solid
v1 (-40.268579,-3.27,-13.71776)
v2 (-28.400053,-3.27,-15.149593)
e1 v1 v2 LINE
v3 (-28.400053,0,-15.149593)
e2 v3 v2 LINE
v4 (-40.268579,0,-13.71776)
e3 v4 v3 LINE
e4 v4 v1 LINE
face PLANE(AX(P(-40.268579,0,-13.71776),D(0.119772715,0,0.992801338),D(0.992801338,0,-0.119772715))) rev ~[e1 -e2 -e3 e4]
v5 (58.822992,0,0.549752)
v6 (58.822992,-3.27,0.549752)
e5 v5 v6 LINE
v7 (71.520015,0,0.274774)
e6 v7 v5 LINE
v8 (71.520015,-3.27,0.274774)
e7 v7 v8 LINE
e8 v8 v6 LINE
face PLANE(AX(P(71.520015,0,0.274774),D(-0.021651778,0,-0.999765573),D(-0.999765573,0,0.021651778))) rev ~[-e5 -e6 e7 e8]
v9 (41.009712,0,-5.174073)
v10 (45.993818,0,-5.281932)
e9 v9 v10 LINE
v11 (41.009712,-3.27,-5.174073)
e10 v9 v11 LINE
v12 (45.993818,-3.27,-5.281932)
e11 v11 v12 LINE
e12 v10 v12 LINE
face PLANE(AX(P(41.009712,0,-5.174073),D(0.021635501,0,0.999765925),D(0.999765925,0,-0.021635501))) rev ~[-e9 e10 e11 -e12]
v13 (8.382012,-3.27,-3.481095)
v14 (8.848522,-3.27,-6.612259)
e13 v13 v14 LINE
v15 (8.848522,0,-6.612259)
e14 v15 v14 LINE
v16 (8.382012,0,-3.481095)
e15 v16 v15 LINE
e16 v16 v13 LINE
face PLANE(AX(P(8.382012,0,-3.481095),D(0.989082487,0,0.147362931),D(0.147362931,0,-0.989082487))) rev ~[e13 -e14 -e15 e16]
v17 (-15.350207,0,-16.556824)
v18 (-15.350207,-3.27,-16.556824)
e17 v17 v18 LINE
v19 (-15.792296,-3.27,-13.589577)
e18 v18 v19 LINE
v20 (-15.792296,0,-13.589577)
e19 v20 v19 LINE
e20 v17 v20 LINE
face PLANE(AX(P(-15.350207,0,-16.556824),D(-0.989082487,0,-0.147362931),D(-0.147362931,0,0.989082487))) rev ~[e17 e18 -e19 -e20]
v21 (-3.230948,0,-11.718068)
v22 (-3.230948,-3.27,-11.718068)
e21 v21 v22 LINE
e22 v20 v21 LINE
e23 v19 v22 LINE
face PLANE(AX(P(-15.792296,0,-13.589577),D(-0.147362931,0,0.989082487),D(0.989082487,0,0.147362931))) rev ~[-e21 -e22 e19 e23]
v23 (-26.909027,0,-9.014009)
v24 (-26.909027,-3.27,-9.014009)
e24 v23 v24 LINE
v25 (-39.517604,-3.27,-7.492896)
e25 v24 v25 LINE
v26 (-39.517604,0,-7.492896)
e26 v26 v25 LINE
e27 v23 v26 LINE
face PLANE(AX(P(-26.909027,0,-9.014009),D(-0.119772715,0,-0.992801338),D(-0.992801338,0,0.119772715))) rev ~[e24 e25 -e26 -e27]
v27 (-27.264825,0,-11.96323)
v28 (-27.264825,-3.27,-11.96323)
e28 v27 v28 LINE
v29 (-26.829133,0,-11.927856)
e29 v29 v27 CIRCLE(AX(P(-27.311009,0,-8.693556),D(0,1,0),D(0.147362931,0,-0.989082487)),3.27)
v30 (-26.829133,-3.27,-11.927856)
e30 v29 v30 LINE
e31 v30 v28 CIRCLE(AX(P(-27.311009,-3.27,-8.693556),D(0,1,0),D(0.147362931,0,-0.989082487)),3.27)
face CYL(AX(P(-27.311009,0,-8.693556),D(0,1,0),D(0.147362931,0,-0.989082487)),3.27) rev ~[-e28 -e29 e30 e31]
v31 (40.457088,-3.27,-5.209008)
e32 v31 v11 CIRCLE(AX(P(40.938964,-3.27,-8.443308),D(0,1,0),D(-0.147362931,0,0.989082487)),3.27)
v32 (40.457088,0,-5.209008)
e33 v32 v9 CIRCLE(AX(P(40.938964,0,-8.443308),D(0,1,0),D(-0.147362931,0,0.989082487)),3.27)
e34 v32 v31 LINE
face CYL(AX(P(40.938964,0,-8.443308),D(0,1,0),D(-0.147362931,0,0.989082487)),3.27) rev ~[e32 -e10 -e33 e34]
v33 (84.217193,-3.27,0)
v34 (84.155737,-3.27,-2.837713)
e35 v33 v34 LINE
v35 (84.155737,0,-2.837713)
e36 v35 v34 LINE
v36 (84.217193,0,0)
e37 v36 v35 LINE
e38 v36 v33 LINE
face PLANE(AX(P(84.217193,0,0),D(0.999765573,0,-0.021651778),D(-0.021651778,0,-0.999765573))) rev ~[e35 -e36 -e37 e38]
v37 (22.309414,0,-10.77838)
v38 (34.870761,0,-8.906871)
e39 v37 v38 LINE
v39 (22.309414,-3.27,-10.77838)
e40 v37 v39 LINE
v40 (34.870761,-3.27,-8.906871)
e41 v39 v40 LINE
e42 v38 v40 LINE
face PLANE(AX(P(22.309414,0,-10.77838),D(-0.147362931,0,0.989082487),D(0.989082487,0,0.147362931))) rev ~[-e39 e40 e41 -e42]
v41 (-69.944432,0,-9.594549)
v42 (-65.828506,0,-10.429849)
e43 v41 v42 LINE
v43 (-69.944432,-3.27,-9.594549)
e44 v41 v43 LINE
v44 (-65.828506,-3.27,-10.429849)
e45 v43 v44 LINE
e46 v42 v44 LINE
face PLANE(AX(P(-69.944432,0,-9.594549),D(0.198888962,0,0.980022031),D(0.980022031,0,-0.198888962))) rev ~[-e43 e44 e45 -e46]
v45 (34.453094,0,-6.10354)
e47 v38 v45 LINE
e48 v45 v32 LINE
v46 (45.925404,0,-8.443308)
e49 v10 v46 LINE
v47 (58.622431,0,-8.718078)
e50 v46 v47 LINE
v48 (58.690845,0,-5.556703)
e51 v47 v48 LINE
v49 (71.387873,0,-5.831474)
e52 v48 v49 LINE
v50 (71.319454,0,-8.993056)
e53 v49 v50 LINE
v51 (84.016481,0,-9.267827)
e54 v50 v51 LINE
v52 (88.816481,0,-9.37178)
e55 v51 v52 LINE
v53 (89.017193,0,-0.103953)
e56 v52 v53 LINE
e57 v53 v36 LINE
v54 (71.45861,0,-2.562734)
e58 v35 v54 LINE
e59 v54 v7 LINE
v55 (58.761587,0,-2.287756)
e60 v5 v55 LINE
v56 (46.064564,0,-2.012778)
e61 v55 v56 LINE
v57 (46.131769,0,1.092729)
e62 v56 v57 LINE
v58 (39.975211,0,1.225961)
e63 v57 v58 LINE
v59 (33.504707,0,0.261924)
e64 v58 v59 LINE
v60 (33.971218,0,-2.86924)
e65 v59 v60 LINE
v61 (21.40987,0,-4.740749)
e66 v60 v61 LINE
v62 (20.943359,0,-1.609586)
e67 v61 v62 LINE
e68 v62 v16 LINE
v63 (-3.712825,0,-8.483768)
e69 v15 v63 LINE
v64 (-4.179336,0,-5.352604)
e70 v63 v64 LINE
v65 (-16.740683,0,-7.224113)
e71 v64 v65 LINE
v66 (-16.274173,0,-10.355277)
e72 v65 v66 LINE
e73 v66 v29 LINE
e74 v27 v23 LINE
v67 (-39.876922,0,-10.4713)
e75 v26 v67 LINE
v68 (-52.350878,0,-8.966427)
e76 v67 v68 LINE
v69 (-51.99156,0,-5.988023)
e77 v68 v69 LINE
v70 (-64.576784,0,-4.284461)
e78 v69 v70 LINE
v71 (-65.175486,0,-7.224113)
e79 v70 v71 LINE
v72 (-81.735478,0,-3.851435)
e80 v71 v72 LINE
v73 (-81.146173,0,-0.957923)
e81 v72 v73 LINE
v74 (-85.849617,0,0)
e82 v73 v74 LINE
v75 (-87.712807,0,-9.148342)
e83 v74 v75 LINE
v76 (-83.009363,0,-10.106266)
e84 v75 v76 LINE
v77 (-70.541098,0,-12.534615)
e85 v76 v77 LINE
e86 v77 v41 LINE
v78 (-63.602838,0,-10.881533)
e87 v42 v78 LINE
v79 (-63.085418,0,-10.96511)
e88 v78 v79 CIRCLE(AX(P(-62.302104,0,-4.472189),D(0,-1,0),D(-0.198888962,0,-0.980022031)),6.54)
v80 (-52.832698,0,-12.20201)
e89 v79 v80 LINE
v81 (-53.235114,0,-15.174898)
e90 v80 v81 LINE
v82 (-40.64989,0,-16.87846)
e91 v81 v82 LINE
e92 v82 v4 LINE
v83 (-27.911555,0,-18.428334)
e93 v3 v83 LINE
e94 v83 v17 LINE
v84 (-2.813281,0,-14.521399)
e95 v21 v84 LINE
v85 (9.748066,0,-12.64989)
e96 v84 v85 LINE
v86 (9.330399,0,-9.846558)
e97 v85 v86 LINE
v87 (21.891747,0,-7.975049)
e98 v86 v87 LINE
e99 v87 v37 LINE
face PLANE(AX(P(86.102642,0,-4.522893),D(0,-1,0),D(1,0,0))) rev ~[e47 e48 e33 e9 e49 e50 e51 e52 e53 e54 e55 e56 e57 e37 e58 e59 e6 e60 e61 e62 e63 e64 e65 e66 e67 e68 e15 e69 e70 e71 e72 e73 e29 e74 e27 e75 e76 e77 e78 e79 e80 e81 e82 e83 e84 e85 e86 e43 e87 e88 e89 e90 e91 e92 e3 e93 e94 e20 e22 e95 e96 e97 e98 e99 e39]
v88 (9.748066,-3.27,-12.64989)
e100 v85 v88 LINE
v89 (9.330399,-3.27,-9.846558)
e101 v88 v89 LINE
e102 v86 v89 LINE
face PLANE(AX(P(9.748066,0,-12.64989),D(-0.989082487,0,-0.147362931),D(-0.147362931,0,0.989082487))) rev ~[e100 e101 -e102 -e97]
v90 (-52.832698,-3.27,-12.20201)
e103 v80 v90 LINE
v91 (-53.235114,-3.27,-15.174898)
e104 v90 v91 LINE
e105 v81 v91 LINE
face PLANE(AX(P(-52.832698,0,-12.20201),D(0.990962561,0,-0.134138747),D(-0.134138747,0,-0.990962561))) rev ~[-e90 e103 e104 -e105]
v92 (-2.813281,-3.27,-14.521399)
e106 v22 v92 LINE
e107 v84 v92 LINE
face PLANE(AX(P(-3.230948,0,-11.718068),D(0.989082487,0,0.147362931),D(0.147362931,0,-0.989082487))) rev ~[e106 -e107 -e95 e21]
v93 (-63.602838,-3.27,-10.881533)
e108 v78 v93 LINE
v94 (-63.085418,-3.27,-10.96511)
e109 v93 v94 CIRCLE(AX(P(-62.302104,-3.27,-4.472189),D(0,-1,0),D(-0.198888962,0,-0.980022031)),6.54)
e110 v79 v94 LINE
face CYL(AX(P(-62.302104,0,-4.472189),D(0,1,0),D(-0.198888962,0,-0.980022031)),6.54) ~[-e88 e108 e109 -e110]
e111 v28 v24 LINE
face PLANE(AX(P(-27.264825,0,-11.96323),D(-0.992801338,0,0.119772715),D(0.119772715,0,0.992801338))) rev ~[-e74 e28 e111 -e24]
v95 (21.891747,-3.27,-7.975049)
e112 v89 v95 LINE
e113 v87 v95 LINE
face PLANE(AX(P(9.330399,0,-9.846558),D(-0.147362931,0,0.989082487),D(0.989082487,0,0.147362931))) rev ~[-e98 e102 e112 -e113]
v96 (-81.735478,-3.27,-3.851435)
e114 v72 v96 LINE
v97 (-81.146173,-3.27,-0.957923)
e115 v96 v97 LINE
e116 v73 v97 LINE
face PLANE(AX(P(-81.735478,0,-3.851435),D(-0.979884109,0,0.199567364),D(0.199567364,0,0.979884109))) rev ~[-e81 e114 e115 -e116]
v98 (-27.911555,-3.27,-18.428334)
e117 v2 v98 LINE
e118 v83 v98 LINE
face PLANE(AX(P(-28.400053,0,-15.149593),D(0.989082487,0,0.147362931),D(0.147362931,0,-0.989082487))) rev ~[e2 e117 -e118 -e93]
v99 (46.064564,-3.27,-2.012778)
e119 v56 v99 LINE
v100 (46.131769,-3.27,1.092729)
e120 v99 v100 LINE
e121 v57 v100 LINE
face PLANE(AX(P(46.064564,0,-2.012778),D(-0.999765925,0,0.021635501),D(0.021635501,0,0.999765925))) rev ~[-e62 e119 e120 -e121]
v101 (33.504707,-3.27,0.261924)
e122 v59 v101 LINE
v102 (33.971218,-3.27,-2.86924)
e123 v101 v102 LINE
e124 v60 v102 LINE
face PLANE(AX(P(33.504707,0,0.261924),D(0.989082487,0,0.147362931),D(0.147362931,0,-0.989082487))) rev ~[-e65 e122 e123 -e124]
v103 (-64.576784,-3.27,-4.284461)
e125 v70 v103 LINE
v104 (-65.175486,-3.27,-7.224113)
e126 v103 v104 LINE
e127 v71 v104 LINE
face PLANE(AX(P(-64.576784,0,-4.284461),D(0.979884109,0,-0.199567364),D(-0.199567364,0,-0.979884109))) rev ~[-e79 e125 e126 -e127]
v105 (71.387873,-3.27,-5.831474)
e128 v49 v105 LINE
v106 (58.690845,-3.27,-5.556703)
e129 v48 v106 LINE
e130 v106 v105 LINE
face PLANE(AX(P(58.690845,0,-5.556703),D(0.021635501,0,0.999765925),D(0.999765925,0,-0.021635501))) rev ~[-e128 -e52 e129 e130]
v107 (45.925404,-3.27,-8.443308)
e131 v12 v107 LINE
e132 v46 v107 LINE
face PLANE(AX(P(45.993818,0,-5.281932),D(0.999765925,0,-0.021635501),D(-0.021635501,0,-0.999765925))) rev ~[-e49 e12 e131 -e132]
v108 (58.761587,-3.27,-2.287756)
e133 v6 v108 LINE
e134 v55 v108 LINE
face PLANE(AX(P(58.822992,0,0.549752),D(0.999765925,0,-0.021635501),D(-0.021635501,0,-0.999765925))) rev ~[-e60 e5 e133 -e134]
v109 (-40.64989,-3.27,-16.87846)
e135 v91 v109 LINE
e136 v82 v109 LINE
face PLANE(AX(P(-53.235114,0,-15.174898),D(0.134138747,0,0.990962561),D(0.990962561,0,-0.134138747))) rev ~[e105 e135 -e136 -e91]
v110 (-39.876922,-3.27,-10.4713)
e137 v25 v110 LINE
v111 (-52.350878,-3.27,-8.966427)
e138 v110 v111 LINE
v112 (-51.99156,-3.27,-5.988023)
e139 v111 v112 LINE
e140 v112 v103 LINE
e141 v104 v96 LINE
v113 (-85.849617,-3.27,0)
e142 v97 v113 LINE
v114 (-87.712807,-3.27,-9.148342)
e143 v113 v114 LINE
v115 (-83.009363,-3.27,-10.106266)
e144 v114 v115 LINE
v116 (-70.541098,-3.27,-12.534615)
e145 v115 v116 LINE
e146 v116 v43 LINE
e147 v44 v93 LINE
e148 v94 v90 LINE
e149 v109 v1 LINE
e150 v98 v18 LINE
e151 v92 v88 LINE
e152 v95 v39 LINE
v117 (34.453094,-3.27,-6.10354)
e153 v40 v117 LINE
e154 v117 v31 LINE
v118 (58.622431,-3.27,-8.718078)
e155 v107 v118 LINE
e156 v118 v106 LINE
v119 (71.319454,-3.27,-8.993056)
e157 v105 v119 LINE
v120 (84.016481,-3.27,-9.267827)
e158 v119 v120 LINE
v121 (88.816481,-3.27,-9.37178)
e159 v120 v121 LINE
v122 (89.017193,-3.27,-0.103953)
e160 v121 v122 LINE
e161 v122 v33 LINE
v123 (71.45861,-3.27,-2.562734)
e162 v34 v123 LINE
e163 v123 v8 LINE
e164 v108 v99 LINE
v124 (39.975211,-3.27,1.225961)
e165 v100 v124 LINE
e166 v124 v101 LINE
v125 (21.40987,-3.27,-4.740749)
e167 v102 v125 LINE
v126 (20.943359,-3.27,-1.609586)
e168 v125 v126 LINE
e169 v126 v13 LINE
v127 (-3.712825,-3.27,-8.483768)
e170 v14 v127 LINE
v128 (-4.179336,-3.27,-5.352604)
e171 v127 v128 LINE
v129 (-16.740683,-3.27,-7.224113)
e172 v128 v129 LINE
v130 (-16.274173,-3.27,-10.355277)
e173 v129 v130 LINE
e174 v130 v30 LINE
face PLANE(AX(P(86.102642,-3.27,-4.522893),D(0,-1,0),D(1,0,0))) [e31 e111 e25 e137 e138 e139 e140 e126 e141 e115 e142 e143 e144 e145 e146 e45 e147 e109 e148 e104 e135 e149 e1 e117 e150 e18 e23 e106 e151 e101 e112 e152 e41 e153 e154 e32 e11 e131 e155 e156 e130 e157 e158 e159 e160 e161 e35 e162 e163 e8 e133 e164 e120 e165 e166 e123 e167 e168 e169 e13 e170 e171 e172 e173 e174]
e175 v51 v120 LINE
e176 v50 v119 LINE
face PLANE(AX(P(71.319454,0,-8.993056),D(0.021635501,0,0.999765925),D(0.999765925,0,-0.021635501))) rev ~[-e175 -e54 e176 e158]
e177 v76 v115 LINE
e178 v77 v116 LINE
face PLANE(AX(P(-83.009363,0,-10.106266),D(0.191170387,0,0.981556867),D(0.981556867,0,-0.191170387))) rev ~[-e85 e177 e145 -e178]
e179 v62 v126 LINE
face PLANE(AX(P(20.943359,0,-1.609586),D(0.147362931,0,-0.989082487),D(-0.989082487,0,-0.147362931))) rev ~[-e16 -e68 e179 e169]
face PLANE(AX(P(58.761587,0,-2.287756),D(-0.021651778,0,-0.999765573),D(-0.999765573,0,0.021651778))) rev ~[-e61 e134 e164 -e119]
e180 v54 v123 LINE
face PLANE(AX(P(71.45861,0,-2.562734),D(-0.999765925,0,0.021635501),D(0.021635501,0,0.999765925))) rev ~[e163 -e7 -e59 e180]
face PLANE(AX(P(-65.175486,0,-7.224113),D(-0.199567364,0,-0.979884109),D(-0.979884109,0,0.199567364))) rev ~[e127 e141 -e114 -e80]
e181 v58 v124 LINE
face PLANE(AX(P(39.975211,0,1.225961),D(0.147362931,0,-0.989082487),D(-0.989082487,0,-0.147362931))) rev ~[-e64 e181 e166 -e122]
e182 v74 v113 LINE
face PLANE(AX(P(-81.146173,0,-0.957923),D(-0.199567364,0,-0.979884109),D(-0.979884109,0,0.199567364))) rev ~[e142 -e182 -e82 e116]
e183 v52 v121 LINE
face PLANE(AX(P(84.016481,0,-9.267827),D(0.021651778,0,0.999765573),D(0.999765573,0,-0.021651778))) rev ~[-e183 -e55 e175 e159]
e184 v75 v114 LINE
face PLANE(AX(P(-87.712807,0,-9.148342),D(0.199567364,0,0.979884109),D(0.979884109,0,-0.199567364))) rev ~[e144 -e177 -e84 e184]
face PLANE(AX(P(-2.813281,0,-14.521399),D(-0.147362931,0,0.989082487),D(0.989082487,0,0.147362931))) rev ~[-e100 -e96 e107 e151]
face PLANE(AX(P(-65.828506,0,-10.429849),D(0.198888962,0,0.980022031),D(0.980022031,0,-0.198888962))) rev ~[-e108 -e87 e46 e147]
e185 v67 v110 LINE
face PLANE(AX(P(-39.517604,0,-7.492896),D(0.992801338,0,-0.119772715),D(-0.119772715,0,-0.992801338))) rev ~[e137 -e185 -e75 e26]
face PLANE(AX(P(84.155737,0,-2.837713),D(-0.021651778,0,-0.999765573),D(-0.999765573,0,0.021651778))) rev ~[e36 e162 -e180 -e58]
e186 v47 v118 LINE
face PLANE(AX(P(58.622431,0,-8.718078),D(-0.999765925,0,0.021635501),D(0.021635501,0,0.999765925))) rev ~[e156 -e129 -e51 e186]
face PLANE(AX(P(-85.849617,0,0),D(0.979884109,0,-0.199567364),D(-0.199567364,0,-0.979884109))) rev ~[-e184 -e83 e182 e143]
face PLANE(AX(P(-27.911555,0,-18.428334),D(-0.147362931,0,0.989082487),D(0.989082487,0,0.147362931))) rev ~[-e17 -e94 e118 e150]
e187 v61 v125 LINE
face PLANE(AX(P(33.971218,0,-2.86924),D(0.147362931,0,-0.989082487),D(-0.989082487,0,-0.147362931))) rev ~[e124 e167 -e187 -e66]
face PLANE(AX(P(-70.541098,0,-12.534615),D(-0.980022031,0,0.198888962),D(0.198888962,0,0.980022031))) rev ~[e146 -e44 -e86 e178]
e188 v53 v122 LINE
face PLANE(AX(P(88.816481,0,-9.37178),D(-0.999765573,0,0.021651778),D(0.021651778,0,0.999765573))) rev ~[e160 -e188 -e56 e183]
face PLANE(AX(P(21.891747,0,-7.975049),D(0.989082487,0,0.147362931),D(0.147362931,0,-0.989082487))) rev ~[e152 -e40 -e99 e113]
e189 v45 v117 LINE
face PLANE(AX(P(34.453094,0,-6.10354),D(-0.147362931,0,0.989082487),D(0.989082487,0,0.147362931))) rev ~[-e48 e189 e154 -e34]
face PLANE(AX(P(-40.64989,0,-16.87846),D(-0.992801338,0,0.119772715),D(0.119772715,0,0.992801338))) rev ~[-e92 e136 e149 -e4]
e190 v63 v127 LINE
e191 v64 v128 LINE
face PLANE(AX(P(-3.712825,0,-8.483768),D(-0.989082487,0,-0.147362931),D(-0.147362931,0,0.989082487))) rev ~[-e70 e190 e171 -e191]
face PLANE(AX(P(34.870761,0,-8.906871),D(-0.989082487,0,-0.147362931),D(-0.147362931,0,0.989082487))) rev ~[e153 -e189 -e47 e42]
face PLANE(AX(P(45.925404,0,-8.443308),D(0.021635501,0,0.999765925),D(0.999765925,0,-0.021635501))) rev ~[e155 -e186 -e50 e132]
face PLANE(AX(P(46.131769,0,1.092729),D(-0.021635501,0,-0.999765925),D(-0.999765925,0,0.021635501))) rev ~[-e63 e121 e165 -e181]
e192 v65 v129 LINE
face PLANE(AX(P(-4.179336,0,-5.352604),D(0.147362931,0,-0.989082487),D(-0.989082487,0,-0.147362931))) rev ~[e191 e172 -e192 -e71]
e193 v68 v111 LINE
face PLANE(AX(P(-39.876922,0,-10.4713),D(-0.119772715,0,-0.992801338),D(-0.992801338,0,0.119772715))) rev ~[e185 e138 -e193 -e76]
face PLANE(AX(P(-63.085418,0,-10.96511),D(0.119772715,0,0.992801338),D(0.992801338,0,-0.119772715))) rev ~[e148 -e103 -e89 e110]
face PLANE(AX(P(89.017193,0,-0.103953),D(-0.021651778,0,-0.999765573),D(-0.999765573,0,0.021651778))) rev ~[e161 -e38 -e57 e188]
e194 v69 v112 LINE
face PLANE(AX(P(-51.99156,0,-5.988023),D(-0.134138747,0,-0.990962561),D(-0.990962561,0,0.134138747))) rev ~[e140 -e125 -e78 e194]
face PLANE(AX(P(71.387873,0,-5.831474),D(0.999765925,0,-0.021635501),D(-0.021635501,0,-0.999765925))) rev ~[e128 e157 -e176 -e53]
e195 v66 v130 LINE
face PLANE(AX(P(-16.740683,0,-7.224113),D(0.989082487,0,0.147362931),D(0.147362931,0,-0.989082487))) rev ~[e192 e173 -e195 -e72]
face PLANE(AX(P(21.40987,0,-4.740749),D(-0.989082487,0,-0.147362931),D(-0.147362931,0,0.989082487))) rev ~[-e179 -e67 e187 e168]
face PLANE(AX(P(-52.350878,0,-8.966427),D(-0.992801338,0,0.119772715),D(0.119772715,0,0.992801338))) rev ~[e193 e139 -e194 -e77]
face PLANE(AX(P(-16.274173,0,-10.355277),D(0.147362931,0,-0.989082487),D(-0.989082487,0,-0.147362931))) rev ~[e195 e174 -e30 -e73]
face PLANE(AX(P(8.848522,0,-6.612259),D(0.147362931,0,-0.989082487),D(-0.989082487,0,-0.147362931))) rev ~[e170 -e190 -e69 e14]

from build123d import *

# Parameters (mm, degrees)
F1_DEPTH = 3.27


with BuildPart() as f1:
    # F0 (on Front) → F1 (new body)
    with BuildSketch(Plane.XZ):
        Polygon((88.0849202076, -6.1928071498), (88.0849202076, -2.9228071498), (84.155737444, -2.8377134103), (84.0849513189, -6.1062455567), align=None)
        Polygon((84.155737444, -2.8377134103), (88.0849202076, -2.9228071498), (88.0849202076, -6.1928071498), (84.0849513189, -6.1062455567), (84.0164814126, -9.2678268597), (88.8164814126, -9.3717797613), (89.0171933904, -0.1039529016), (84.2171933904, 0), align=None)
        Polygon((84.0849513189, -6.1062455567), (84.155737444, -2.8377134103), (71.4586099838, -2.5627335684), (71.387872598, -5.8314735793), align=None)
        Polygon((71.387872598, -5.8314735793), (71.4586099838, -2.5627335684), (58.7615872094, -2.2877559936), (58.6908453502, -5.5567027157), align=None)
        Polygon((58.7615872094, -2.2877559936), (71.4586099838, -2.5627335684), (71.5200152581, 0.27477413), (58.8229924837, 0.5497517048), align=None)
        Polygon((84.0164814126, -9.2678268597), (84.0849513189, -6.1062455567), (71.387872598, -5.8314735793), (71.3194541632, -8.9930559962), align=None)
        Polygon((58.6908453502, -5.5567027157), (58.7615872094, -2.2877559936), (46.0645644334, -2.0127784187), (45.9938181008, -5.2819318522), align=None)
        with BuildLine():
            Line((45.9938181008, -5.2819318522), (46.0645644334, -2.0127784187))
            Line((46.0645644334, -2.0127784187), (41.0805670131, -1.9048407118))
            ThreePointArc((41.0805670131, -1.9048407118), (40.5264072315, -1.9163330219), (39.9752108165, -1.9747080916))
            Line((39.9752108165, -1.9747080916), (33.9712176037, -2.8692401974))
            Line((33.9712176037, -2.8692401974), (34.4530943895, -6.1035399305))
            Line((34.4530943895, -6.1035399305), (40.4570876022, -5.2090078247))
            ThreePointArc((40.4570876022, -5.2090078247), (40.7326592445, -5.1798219691), (41.0097124764, -5.1740729826))
            Line((41.0097124764, -5.1740729826), (45.9938181008, -5.2819318522))
        make_face()
        with BuildLine():
            Line((41.0805670131, -1.9048407118), (46.0645644334, -2.0127784187))
            Line((46.0645644334, -2.0127784187), (46.1317693836, 1.0927294697))
            Line((46.1317693836, 1.0927294697), (39.9752108165, 1.2259608853))
            Line((39.9752108165, 1.2259608853), (33.5047069945, 0.2619235848))
            Line((33.5047069945, 0.2619235848), (33.9712176037, -2.8692401974))
            Line((33.9712176037, -2.8692401974), (39.9752108165, -1.9747080916))
            ThreePointArc((39.9752108165, -1.9747080916), (40.5264072315, -1.9163330219), (41.0805670131, -1.9048407118))
        make_face()
        Polygon((58.6224313888, -8.7180784214), (58.6908453502, -5.5567027157), (45.9938181008, -5.2819318522), (45.9254041394, -8.4433075578), align=None)
        Polygon((34.4530943895, -6.1035399305), (33.9712176037, -2.8692401974), (21.4098700166, -4.7407494263), (21.8917468023, -7.9750491594), align=None)
        Polygon((21.8917468023, -7.9750491594), (21.4098700166, -4.7407494263), (8.8485224294, -6.6122586553), (9.3303992151, -9.8465583884), align=None)
        Polygon((8.8485224294, -6.6122586553), (21.4098700166, -4.7407494263), (20.9433594073, -1.6095856442), (8.3820118202, -3.4810948731), align=None)
        Polygon((34.8707613687, -8.9068710714), (34.4530943895, -6.1035399305), (21.8917468023, -7.9750491594), (22.3094137815, -10.7783803003), align=None)
        Polygon((9.3303992151, -9.8465583884), (8.8485224294, -6.6122586553), (-3.7128251578, -8.4837678842), (-3.2309483721, -11.7180676173), align=None)
        Polygon((-3.2309483721, -11.7180676173), (-3.7128251578, -8.4837678842), (-16.274172745, -10.3552771132), (-15.7922959593, -13.5895768463), align=None)
        Polygon((-16.274172745, -10.3552771132), (-3.7128251578, -8.4837678842), (-4.179335767, -5.3526041021), (-16.7406833542, -7.224113331), align=None)
        Polygon((9.7480661944, -12.6498895293), (9.3303992151, -9.8465583884), (-3.2309483721, -11.7180676173), (-2.8132813928, -14.5213987582), align=None)
        with BuildLine():
            Line((-15.7922959593, -13.5895768463), (-16.274172745, -10.3552771132))
            Line((-16.274172745, -10.3552771132), (-26.8291325696, -11.9278555795))
            ThreePointArc((-26.8291325696, -11.9278555795), (-27.0463868948, -11.9528310654), (-27.2648247248, -11.9632296803))
            Line((-27.2648247248, -11.9632296803), (-27.3333623041, -12.5313407106))
            Line((-27.3333623041, -12.5313407106), (-27.6582478154, -15.224331103))
            ThreePointArc((-27.6582478154, -15.224331103), (-27.0011881523, -15.2262131022), (-26.3472557839, -15.1621553125))
            Line((-26.3472557839, -15.1621553125), (-15.7922959593, -13.5895768463))
        make_face()
        with BuildLine():
            Line((-15.350207165, -16.5568243078), (-15.7922959593, -13.5895768463))
            Line((-15.7922959593, -13.5895768463), (-26.3472557839, -15.1621553125))
            ThreePointArc((-26.3472557839, -15.1621553125), (-27.0011881523, -15.2262131022), (-27.6582478154, -15.224331103))
            ThreePointArc((-27.6582478154, -15.224331103), (-27.8766021467, -15.2090531255), (-28.0943229104, -15.186476597))
            Line((-28.0943229104, -15.186476597), (-28.4000527535, -15.1495929911))
            Line((-28.4000527535, -15.1495929911), (-27.9115547522, -18.4283335368))
            Line((-27.9115547522, -18.4283335368), (-15.350207165, -16.5568243078))
        make_face()
        with BuildLine():
            Line((-27.3333623041, -12.5313407106), (-27.2648247248, -11.9632296803))
            ThreePointArc((-27.2648247248, -11.9632296803), (-27.4841349376, -11.9589696843), (-27.7026661329, -11.9400162217))
            Line((-27.7026661329, -11.9400162217), (-39.8769224488, -10.4712996977))
            Line((-39.8769224488, -10.4712996977), (-40.2685792263, -13.717760073))
            Line((-40.2685792263, -13.717760073), (-28.4000527535, -15.1495929911))
            Line((-28.4000527535, -15.1495929911), (-28.0943229104, -15.186476597))
            ThreePointArc((-28.0943229104, -15.186476597), (-27.8766021467, -15.2090531255), (-27.6582478154, -15.224331103))
            Line((-27.6582478154, -15.224331103), (-27.3333623041, -12.5313407106))
        make_face()
        with BuildLine():
            ThreePointArc((-27.7026661329, -11.9400162217), (-27.4841349376, -11.9589696843), (-27.2648247248, -11.9632296803))
            Line((-27.2648247248, -11.9632296803), (-26.9090273113, -9.0140091622))
            Line((-26.9090273113, -9.0140091622), (-39.5176043042, -7.4928956836))
            Line((-39.5176043042, -7.4928956836), (-39.8769224488, -10.4712996977))
            Line((-39.8769224488, -10.4712996977), (-27.7026661329, -11.9400162217))
        make_face()
        Polygon((-40.2685792263, -13.717760073), (-39.8769224488, -10.4712996977), (-52.3508780033, -8.9664271069), (-52.3940183108, -8.9612226097), (-52.8326980236, -12.2020100831), align=None)
        Polygon((-52.3940183108, -8.9612226097), (-52.3508780033, -8.9664271069), (-51.9915598587, -5.9880230928), align=None)
        Polygon((-40.6498897454, -16.8784598537), (-40.2685792263, -13.717760073), (-52.8326980236, -12.2020100831), (-53.2351142651, -15.1748977649), align=None)
        with BuildLine():
            Line((-52.8326980236, -12.2020100831), (-52.3940183108, -8.9612226097))
            Line((-52.3940183108, -8.9612226097), (-62.6937612549, -7.7186495717))
            ThreePointArc((-62.6937612549, -7.7186495717), (-62.824652475, -7.7001674476), (-62.9546897587, -7.6764102329))
            Line((-62.9546897587, -7.6764102329), (-65.1754864714, -7.224113331))
            Line((-65.1754864714, -7.224113331), (-65.8285059402, -10.4298488094))
            Line((-65.8285059402, -10.4298488094), (-63.6028382914, -10.8815332771))
            ThreePointArc((-63.6028382914, -10.8815332771), (-63.3449657453, -10.9285070615), (-63.0854180325, -10.9651099471))
            Line((-63.0854180325, -10.9651099471), (-52.8326980236, -12.2020100831))
        make_face()
        with BuildLine():
            Line((-62.6937612549, -7.7186495717), (-52.3940183108, -8.9612226097))
            Line((-52.3940183108, -8.9612226097), (-51.9915598587, -5.9880230928))
            Line((-51.9915598587, -5.9880230928), (-64.5767843783, -4.284461004))
            Line((-64.5767843783, -4.284461004), (-65.1754864714, -7.224113331))
            Line((-65.1754864714, -7.224113331), (-62.9546897587, -7.6764102329))
            ThreePointArc((-62.9546897587, -7.6764102329), (-62.824652475, -7.7001674476), (-62.6937612549, -7.7186495717))
        make_face()
        Polygon((-65.8285059402, -10.4298488094), (-65.1754864714, -7.224113331), (-81.7354778523, -3.8514350694), (-82.3907114007, -7.0686592077), (-69.9444316109, -9.5945490301), align=None)
        Polygon((-86.2950797924, -2.9228071498), (-81.7354778523, -3.8514350694), (-81.1461729514, -0.9579233488), (-85.8496166746, 0), (-87.7128069895, -9.1483424039), (-83.0093632663, -10.1062657528), (-82.3907114007, -7.0686592077), (-86.2950797924, -6.2762935732), align=None)
        Polygon((-82.3907114007, -7.0686592077), (-81.7354778523, -3.8514350694), (-86.2950797924, -2.9228071498), (-86.2950797924, -6.2762935732), align=None)
        Polygon((-69.9444316109, -9.5945490301), (-82.3907114007, -7.0686592077), (-83.0093632663, -10.1062657528), (-70.5410984981, -12.5346151222), align=None)
    extrude(amount=F1_DEPTH)


solid = f1.part
